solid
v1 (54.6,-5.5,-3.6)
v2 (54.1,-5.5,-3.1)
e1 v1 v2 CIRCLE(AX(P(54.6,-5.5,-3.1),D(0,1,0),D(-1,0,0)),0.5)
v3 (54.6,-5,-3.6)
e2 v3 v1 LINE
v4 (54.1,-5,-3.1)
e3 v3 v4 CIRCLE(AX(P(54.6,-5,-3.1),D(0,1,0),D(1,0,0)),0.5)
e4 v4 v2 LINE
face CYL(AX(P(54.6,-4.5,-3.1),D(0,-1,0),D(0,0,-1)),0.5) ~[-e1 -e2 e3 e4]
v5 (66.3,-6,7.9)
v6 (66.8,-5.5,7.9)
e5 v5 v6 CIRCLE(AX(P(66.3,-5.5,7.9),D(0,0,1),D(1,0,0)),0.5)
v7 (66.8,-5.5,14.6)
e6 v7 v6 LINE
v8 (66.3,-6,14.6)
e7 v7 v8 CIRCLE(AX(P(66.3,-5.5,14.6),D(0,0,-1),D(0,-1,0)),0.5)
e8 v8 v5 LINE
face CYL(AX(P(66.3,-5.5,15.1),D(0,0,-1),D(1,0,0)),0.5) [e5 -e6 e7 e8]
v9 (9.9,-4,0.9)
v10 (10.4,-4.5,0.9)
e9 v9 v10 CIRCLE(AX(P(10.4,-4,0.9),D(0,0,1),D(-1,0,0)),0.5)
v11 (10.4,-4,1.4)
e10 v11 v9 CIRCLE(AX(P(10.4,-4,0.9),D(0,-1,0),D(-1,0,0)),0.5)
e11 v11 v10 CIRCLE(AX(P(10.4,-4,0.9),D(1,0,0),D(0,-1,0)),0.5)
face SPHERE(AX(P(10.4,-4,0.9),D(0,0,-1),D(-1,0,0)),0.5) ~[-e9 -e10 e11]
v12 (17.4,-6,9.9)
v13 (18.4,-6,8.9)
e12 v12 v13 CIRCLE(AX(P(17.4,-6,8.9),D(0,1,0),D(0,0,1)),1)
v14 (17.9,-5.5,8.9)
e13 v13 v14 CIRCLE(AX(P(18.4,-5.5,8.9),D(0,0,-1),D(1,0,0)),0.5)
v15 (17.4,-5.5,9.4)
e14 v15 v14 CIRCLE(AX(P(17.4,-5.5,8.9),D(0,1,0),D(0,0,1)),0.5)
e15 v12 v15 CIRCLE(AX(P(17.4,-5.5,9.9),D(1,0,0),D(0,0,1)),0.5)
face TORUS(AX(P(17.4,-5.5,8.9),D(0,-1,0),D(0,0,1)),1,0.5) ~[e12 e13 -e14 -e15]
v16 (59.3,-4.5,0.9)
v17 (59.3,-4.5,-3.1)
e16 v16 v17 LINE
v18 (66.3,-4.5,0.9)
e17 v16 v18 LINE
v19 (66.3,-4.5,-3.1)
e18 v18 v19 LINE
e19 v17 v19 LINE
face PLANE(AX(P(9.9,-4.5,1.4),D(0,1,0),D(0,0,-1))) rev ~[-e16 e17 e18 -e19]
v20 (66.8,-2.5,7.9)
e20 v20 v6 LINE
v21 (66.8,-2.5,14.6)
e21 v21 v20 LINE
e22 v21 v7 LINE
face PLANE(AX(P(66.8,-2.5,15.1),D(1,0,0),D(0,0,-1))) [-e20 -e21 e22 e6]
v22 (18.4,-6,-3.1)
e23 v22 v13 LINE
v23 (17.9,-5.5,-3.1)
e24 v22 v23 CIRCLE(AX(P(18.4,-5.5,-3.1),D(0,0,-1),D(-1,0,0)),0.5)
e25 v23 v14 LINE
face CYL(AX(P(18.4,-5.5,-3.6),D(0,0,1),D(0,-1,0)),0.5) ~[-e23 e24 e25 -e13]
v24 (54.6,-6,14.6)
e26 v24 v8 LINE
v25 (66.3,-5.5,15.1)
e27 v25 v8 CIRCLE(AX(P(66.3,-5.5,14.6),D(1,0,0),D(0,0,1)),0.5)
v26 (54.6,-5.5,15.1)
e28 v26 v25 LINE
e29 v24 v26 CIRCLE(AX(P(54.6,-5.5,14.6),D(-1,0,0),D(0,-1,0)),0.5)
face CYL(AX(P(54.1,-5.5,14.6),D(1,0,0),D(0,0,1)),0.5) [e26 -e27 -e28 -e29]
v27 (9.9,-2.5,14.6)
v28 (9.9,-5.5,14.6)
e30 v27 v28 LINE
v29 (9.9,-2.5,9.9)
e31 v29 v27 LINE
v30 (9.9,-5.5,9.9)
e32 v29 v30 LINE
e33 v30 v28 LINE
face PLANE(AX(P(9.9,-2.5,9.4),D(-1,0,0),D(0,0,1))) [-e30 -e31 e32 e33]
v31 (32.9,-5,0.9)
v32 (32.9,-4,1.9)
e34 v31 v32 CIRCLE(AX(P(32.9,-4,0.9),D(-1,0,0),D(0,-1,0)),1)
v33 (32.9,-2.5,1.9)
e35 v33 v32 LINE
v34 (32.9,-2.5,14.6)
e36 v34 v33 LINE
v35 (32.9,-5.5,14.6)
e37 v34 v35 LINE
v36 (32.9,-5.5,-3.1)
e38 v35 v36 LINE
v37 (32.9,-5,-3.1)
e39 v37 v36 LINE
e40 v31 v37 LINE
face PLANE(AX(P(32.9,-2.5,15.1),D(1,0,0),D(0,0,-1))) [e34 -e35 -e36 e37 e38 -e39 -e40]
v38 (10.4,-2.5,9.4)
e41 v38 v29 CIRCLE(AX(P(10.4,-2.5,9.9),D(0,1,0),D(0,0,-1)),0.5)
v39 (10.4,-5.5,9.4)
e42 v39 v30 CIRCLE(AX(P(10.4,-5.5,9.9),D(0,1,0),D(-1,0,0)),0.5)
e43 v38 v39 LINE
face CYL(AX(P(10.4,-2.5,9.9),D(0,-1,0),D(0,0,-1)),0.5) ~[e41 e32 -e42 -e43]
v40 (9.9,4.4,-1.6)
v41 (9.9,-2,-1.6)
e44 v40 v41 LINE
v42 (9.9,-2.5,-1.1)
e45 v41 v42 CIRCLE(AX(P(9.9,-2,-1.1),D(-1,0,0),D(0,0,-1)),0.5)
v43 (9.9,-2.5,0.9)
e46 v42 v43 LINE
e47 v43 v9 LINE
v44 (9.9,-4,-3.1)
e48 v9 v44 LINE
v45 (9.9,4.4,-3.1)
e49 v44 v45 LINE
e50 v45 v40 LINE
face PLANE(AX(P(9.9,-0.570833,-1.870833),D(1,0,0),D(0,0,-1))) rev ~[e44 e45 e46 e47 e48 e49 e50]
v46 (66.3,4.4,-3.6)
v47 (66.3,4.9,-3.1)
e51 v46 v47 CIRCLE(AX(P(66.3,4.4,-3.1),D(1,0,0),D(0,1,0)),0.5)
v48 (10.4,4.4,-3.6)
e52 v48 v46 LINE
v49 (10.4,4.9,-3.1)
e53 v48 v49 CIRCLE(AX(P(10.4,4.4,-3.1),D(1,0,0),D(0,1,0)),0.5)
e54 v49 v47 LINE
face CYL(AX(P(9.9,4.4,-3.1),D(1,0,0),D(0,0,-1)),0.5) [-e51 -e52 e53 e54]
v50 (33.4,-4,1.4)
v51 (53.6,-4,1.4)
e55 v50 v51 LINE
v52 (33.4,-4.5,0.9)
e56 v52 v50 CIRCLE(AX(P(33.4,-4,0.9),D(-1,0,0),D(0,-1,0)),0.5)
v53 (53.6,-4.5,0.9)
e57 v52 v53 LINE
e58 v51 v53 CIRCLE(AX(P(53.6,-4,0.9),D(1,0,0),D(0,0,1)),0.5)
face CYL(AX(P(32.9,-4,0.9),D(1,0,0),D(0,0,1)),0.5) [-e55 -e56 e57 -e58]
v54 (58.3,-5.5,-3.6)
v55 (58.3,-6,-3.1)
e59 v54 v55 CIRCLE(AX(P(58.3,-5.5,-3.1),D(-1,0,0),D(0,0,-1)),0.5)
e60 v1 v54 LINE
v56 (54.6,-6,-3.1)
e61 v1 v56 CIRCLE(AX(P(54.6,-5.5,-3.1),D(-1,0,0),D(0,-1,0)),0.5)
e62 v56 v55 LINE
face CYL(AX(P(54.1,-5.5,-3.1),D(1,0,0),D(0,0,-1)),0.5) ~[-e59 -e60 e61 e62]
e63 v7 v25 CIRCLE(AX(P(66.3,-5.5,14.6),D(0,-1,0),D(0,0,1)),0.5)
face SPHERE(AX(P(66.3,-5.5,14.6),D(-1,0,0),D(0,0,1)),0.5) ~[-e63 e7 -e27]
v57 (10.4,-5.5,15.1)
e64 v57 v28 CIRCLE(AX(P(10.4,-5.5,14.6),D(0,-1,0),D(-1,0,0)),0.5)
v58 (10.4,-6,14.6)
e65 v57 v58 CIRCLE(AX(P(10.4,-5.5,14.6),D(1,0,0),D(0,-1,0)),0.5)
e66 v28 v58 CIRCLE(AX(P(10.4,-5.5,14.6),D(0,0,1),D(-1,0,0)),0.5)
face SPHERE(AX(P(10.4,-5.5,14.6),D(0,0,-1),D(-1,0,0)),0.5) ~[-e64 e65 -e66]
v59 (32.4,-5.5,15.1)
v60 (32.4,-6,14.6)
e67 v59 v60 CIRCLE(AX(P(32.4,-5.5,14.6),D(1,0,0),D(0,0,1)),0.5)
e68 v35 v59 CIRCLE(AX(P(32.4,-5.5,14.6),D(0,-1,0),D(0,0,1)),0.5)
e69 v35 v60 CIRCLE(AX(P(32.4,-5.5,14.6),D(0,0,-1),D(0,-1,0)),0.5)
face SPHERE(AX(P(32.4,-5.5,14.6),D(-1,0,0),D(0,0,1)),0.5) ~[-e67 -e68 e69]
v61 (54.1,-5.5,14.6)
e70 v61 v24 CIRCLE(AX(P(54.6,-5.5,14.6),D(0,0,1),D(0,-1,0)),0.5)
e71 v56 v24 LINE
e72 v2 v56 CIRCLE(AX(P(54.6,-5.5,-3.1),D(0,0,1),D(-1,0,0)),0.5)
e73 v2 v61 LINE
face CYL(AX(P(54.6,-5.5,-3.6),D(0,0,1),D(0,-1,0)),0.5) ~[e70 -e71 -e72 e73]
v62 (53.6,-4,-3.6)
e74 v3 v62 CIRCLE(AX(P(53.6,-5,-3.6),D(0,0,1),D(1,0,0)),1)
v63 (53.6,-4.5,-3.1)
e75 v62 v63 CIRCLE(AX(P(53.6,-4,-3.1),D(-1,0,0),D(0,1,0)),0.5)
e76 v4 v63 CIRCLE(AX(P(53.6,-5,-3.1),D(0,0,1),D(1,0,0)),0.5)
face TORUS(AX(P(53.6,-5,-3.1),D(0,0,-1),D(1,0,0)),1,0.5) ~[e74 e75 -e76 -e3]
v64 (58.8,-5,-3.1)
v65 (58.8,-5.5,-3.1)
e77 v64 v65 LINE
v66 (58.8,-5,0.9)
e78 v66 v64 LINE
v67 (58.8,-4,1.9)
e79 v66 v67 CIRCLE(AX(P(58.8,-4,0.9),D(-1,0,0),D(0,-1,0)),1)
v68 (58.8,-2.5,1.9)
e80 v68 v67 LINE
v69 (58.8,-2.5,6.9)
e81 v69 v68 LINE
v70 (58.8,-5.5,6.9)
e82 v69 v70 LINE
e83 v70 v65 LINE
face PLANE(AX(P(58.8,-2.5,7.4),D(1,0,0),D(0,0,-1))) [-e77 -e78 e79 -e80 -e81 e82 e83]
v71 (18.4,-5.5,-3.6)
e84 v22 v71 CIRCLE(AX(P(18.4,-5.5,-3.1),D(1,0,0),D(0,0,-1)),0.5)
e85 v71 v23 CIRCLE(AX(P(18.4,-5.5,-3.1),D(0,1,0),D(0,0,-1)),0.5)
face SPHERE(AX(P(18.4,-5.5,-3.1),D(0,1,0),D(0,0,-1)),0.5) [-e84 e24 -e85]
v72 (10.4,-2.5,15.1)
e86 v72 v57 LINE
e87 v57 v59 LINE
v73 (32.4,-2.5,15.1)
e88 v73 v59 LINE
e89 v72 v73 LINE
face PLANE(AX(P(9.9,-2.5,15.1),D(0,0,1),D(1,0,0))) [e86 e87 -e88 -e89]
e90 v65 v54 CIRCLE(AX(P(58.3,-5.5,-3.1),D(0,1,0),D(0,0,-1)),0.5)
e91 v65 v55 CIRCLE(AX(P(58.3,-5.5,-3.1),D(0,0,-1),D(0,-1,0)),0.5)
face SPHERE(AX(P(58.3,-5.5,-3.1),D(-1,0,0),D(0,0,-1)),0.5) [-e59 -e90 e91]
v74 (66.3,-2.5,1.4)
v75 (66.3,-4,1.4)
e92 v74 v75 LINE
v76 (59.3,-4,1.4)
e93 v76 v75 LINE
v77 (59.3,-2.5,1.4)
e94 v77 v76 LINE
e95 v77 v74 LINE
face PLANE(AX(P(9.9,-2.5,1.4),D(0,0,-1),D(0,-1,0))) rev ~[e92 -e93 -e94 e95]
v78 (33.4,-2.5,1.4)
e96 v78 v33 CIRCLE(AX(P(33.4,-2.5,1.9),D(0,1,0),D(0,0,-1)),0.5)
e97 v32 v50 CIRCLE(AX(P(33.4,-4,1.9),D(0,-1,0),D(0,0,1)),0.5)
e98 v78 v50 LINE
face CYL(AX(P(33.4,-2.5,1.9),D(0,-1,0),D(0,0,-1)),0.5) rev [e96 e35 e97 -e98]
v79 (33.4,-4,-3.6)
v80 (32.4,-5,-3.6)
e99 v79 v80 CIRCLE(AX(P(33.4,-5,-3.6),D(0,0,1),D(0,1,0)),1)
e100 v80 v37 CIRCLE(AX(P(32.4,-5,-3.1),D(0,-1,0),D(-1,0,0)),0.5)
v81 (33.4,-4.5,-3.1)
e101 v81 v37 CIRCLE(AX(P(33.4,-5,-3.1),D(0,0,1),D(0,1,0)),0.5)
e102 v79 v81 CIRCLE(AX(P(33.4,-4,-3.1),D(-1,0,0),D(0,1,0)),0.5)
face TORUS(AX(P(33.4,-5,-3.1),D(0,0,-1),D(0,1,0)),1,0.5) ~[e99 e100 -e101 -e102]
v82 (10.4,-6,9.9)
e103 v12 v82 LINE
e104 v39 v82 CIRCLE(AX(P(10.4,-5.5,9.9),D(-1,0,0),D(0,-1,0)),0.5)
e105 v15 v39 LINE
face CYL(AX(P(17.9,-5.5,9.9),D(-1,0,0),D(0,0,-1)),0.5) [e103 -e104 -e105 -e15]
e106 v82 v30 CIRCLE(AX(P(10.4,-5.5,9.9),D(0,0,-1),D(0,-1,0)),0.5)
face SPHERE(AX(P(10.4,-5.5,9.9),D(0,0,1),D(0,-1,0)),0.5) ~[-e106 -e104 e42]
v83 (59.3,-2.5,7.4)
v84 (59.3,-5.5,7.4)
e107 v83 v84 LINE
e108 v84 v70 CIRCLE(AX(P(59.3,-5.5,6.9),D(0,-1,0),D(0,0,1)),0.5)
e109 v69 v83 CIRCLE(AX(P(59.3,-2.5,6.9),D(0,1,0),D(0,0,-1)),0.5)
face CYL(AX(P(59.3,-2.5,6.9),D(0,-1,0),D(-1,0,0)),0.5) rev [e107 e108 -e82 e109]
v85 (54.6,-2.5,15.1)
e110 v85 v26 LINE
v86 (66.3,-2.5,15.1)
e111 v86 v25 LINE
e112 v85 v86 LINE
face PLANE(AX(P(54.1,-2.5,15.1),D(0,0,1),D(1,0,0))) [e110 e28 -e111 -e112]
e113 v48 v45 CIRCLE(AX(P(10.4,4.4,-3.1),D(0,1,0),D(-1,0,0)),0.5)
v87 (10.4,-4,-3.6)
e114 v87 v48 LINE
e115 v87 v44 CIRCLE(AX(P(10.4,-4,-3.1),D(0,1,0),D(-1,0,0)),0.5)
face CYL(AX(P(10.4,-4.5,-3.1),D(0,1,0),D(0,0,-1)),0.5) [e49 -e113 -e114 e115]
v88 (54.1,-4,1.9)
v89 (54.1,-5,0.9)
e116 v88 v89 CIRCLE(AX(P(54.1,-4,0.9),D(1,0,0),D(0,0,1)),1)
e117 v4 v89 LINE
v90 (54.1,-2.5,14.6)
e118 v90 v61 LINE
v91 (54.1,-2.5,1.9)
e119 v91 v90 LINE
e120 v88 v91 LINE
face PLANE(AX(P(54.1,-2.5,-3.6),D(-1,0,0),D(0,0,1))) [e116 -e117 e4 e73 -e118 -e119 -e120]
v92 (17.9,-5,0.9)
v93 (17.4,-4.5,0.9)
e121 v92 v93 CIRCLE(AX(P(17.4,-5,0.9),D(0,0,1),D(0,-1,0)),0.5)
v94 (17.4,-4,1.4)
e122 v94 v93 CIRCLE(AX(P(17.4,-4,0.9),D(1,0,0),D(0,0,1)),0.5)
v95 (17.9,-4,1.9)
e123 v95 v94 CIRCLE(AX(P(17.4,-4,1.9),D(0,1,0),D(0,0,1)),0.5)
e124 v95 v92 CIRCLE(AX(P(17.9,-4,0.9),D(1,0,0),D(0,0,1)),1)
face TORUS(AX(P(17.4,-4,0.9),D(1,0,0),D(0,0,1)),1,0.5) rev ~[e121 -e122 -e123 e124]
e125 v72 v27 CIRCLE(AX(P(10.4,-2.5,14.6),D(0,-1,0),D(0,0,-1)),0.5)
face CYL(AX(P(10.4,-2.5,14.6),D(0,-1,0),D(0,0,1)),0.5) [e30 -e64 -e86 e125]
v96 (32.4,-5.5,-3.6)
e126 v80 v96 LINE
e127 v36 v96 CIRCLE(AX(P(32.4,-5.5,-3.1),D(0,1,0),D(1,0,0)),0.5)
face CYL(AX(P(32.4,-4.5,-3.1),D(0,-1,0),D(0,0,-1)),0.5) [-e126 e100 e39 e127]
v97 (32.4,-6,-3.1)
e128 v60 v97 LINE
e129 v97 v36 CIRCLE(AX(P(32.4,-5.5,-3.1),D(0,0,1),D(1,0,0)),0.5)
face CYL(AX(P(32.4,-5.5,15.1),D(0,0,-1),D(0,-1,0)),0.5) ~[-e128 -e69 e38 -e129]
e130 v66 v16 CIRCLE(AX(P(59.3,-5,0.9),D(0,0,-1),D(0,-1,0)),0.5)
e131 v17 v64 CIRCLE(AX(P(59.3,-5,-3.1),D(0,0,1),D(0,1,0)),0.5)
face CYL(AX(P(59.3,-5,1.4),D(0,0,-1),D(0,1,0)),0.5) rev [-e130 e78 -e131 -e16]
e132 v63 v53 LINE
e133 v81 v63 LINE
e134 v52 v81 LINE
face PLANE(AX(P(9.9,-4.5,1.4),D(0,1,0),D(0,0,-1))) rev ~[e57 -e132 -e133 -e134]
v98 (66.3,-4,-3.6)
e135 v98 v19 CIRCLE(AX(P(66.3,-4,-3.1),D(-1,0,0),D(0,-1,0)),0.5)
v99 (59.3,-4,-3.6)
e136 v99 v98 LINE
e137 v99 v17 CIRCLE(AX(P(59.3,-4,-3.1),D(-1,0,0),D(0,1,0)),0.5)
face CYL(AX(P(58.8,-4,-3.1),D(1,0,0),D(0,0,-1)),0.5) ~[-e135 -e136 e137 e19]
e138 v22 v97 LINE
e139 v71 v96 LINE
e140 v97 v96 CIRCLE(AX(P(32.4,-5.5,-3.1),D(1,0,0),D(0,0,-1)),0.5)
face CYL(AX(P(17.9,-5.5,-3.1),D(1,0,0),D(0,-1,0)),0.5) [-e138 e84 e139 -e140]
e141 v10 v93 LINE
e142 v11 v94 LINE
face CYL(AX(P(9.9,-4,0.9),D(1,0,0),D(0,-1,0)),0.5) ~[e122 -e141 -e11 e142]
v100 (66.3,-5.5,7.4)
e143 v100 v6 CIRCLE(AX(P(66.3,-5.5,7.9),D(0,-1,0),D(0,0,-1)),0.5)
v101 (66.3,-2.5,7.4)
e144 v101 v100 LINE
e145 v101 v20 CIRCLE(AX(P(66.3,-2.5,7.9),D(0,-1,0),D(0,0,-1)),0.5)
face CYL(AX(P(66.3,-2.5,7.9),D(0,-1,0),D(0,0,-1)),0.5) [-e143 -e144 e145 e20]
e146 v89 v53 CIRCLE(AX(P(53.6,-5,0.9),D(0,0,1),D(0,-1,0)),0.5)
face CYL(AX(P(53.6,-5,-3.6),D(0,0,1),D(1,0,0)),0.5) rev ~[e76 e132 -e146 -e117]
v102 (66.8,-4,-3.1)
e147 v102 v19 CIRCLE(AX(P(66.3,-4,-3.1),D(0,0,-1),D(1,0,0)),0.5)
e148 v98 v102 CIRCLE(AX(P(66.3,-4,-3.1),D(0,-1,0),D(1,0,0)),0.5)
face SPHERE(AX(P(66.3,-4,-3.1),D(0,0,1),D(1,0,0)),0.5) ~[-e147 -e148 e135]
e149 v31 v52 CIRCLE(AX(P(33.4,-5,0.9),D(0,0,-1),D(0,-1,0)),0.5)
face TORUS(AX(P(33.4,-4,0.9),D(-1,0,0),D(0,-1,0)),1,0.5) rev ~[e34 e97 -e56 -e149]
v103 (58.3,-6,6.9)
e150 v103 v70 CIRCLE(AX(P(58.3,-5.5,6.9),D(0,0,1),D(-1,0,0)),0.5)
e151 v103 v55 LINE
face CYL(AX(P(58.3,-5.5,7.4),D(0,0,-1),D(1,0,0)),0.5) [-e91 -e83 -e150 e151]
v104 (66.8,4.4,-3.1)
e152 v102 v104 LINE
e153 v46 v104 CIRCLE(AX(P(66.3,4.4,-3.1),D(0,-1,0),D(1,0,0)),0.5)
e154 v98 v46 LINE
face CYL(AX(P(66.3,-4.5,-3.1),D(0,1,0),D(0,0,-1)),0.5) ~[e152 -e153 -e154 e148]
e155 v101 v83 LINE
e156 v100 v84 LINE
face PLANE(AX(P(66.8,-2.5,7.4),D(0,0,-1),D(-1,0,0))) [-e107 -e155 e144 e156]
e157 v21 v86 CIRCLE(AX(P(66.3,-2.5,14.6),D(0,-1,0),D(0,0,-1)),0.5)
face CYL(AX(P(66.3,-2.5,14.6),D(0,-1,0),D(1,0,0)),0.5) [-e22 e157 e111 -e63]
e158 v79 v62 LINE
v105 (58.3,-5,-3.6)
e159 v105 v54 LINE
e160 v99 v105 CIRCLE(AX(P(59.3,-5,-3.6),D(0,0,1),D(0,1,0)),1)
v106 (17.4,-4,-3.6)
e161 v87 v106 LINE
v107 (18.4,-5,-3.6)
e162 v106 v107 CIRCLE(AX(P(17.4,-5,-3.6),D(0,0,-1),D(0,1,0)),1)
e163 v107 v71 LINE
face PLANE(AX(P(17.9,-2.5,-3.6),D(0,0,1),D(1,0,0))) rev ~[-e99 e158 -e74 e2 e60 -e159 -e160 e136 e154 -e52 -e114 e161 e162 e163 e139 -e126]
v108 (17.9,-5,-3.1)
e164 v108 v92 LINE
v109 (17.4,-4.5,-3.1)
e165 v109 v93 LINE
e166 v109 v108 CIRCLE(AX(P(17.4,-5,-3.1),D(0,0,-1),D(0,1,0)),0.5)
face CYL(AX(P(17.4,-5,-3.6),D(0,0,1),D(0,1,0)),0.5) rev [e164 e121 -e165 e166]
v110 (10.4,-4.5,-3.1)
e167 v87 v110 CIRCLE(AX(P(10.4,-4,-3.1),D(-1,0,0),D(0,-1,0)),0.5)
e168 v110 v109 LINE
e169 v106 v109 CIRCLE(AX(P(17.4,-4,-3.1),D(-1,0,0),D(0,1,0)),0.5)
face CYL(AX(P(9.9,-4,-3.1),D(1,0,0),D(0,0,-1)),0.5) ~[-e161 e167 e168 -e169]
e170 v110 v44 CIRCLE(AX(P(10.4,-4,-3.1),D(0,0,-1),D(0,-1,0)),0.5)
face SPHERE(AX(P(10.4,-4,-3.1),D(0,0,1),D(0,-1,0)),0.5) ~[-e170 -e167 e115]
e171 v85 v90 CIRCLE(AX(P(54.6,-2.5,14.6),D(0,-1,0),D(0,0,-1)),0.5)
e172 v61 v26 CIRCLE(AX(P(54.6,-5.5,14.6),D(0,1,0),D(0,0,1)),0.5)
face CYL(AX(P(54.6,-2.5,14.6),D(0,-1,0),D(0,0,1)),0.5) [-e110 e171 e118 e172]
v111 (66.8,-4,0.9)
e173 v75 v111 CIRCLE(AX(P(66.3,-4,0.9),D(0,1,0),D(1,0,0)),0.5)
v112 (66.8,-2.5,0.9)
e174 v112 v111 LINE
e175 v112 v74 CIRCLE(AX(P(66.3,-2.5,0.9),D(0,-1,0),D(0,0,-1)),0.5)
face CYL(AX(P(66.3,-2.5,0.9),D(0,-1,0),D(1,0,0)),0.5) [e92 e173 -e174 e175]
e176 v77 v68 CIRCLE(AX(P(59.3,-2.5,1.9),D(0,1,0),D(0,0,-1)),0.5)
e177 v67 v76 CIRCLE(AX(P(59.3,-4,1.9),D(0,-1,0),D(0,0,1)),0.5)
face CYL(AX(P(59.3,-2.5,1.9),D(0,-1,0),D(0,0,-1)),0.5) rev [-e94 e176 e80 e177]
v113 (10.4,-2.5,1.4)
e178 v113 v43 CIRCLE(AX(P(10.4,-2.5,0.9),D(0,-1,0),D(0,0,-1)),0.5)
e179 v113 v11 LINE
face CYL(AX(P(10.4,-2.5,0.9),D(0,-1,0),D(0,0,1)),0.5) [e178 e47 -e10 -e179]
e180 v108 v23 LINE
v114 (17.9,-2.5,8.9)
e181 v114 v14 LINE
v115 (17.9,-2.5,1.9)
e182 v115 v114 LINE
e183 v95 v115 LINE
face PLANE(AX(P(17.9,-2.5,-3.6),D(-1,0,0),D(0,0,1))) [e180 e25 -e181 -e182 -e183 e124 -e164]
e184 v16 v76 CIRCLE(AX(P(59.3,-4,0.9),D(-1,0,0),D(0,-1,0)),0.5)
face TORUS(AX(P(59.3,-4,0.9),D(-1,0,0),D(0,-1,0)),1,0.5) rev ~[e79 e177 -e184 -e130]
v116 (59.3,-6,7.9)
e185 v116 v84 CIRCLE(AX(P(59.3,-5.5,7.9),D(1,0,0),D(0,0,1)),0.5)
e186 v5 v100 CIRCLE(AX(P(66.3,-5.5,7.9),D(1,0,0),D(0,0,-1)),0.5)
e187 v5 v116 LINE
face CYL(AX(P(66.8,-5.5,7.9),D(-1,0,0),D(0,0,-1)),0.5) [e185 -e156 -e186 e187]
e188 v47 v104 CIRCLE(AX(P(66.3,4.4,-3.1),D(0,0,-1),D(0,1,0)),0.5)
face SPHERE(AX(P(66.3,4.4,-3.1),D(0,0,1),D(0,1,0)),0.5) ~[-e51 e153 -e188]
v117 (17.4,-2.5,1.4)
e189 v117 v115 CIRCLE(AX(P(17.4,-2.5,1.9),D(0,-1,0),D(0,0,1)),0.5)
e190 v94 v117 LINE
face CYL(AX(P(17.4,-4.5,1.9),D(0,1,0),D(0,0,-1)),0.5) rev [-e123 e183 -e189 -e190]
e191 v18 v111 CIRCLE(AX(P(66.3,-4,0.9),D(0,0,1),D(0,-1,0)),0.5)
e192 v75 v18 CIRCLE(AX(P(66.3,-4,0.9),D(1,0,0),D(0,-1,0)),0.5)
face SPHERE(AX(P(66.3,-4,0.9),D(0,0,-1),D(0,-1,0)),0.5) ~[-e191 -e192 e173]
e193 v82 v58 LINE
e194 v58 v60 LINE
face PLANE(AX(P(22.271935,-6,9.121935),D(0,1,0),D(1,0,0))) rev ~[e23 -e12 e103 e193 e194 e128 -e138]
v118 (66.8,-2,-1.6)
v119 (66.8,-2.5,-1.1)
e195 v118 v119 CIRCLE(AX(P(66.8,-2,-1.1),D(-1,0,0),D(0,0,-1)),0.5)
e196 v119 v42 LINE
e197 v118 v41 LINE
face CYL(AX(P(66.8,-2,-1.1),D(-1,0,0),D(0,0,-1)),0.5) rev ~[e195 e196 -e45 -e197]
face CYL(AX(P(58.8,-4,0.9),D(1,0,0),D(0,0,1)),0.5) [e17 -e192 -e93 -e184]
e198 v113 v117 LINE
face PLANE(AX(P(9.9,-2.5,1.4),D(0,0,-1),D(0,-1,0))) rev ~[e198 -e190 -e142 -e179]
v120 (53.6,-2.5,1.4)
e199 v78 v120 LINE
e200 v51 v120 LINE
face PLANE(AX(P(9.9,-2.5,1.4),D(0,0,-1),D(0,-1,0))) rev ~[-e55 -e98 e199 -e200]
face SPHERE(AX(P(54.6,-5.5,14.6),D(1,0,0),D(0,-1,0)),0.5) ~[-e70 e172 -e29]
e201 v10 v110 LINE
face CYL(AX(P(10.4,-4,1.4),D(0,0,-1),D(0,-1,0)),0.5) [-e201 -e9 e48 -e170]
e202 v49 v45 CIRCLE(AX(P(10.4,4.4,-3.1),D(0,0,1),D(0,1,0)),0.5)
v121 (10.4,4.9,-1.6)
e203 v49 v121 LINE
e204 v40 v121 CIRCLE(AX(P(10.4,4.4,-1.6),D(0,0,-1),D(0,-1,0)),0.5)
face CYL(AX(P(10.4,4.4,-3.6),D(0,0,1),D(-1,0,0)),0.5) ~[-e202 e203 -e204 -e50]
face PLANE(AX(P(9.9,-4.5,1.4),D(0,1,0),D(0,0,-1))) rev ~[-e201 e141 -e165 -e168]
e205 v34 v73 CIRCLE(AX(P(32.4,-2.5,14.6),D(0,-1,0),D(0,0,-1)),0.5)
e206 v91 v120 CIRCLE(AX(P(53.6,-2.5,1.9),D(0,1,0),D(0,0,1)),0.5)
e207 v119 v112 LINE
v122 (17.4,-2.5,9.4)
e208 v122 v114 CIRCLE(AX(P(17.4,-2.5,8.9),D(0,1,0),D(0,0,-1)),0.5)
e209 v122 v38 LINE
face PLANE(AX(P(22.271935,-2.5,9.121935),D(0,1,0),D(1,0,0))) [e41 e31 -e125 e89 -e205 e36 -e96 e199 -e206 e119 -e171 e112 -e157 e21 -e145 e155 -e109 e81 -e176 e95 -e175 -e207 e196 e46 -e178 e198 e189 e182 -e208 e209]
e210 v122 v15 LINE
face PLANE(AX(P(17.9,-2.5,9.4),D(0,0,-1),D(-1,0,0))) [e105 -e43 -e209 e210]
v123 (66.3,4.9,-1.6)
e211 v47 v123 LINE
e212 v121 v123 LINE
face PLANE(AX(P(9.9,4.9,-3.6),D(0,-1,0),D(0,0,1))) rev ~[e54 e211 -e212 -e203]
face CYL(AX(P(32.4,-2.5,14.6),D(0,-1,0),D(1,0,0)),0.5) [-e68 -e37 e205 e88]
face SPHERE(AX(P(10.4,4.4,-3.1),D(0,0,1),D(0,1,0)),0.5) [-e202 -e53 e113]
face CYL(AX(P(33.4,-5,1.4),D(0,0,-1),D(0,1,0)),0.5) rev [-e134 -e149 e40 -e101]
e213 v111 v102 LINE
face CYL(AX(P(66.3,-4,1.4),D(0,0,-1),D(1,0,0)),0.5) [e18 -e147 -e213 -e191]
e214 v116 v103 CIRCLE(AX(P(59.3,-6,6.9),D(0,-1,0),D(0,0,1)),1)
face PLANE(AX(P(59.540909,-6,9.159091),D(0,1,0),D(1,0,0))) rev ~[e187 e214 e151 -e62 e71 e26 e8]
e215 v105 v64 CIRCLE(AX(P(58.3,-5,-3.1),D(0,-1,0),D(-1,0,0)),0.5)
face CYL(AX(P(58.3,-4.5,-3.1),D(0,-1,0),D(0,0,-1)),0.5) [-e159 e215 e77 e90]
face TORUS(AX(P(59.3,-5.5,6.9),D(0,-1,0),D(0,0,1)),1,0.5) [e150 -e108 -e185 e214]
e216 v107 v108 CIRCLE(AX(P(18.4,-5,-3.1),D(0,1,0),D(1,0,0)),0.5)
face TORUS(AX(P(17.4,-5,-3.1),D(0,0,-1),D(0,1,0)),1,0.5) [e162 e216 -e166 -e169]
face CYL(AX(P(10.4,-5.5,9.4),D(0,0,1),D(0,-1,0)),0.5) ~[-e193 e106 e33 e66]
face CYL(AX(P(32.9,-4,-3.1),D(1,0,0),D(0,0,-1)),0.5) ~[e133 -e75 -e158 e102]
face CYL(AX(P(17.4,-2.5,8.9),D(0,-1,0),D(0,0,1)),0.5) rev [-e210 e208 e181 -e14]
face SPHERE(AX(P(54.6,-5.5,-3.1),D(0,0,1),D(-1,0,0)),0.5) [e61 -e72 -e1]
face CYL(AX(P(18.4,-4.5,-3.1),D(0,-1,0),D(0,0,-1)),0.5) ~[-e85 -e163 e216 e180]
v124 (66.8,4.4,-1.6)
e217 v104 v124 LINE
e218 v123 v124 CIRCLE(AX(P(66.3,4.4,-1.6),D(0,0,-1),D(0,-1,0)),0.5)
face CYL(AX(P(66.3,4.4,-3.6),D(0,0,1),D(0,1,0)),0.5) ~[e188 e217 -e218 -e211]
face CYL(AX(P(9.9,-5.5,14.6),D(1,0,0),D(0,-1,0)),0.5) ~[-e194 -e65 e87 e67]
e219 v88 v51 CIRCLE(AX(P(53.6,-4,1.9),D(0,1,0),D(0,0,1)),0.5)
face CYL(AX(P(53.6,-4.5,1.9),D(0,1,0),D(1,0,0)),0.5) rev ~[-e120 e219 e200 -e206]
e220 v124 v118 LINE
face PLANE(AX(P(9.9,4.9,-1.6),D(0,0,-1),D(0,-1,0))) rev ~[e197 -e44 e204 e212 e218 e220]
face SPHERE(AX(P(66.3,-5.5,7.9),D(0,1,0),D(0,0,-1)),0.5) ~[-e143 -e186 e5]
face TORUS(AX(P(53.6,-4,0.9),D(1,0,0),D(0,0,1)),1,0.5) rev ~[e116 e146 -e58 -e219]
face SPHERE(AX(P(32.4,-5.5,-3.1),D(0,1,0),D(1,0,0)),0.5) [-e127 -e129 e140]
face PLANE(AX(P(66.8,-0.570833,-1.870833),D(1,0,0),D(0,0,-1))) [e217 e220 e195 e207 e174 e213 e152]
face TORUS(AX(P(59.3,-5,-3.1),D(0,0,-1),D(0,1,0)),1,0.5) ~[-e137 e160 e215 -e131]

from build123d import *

# Parameters (mm, degrees)
BOSS_EXTRUDE1_START = 9.9
BOSS_EXTRUDE1_DEPTH = 56.9
SKETCH3_W           = 15
SKETCH3_H           = 3
SKETCH3_W_2         = 4.7
SKETCH3_H_2         = 2
BOSS_EXTRUDE2_DEPTH = 3.5
FILLET1_R           = 0.5


with BuildPart() as part:
    # Sketch1 → Boss-Extrude1 (new body)
    with BuildSketch(Plane(origin=(0, 0, 0), x_dir=(0, 0, -1), z_dir=(1, 0, 0)).offset(BOSS_EXTRUDE1_START)):
        Polygon((3.6, -4.5), (3.6, 4.9), (1.6, 4.9), (1.6, -2.5), (-1.4, -2.5), (-1.4, -4.5), align=None)
    extrude(amount=BOSS_EXTRUDE1_DEPTH)

    # Sketch3 → Boss-Extrude2 (add)
    with BuildSketch(Plane(origin=(0, -2.5, 0), x_dir=(1, 0, 0), z_dir=(0, 1, 0))):
        Polygon((32.9, -1.4), (17.9, -1.4), (17.9, -9.4), (9.9, -9.4), (9.9, -15.1), (32.9, -15.1), align=None)
        Polygon((58.8, -1.4), (54.1, -1.4), (54.1, -15.1), (66.8, -15.1), (66.8, -7.4), (58.8, -7.4), align=None)
        with Locations((25.4, 0.1)):
            Rectangle(SKETCH3_W, SKETCH3_H)
        with Locations((56.45, 0.1)):
            Rectangle(SKETCH3_W_2, SKETCH3_H)
        with Locations((25.4, 2.6)):
            Rectangle(SKETCH3_W, SKETCH3_H_2)
        with Locations((56.45, 2.6)):
            Rectangle(SKETCH3_W_2, SKETCH3_H_2)
    extrude(amount=-BOSS_EXTRUDE2_DEPTH)

    # Fillet1
    fillet1_edges = [part.edges().sort_by_distance(p)[0] for p in [
        (9.9, -4.5, -1.1),
        (9.9, -3.5, 1.4),
        (13.9, -4.5, -3.6),
        (13.9, -4.5, 1.4),
        (9.9, 4.9, -2.6),
        (66.8, -4.5, -1.1),
        (9.9, -6, 12.25),
        (62.8, -4.5, 1.4),
        (9.9, -4.25, 15.1),
        (21.4, -6, 15.1),
        (32.9, -4.25, 15.1),
        (32.9, -5.25, -3.6),
        (32.9, -4.5, -1.1),
        (32.9, -3.5, 1.4),
        (32.9, -6, 5.75),
        (17.9, -5.25, -3.6),
        (25.4, -6, -3.6),
        (66.8, -3.5, 1.4),
        (17.9, -3.5, 1.4),
        (17.9, -4.5, -1.1),
        (17.9, -6, 2.9),
        (17.9, -4.25, 9.4),
        (13.9, -6, 9.4),
        (9.9, -4.25, 9.4),
        (38.35, -2.5, -1.6),
        (66.8, 4.9, -2.6),
        (38.35, 4.9, -3.6),
        (66.8, 0.2, -3.6),
        (62.8, -4.5, -3.6),
        (43.5, -4.5, -3.6),
        (43.5, -4.5, 1.4),
        (66.8, -4.25, 7.4),
        (60.45, -6, 15.1),
        (66.8, -4.25, 15.1),
        (54.1, -3.5, 1.4),
        (54.1, -4.5, -1.1),
        (54.1, -6, 5.75),
        (54.1, -4.25, 15.1),
        (54.1, -5.25, -3.6),
        (56.45, -6, -3.6),
        (58.8, -5.25, -3.6),
        (58.8, -4.5, -1.1),
        (58.8, -3.5, 1.4),
        (58.8, -6, 1.9),
        (58.8, -4.25, 7.4),
        (62.8, -6, 7.4),
        (66.8, -6, 11.25),
        (9.9, 0.2, -3.6),
    ]]
    fillet(fillet1_edges, radius=FILLET1_R)


solid = part.part
